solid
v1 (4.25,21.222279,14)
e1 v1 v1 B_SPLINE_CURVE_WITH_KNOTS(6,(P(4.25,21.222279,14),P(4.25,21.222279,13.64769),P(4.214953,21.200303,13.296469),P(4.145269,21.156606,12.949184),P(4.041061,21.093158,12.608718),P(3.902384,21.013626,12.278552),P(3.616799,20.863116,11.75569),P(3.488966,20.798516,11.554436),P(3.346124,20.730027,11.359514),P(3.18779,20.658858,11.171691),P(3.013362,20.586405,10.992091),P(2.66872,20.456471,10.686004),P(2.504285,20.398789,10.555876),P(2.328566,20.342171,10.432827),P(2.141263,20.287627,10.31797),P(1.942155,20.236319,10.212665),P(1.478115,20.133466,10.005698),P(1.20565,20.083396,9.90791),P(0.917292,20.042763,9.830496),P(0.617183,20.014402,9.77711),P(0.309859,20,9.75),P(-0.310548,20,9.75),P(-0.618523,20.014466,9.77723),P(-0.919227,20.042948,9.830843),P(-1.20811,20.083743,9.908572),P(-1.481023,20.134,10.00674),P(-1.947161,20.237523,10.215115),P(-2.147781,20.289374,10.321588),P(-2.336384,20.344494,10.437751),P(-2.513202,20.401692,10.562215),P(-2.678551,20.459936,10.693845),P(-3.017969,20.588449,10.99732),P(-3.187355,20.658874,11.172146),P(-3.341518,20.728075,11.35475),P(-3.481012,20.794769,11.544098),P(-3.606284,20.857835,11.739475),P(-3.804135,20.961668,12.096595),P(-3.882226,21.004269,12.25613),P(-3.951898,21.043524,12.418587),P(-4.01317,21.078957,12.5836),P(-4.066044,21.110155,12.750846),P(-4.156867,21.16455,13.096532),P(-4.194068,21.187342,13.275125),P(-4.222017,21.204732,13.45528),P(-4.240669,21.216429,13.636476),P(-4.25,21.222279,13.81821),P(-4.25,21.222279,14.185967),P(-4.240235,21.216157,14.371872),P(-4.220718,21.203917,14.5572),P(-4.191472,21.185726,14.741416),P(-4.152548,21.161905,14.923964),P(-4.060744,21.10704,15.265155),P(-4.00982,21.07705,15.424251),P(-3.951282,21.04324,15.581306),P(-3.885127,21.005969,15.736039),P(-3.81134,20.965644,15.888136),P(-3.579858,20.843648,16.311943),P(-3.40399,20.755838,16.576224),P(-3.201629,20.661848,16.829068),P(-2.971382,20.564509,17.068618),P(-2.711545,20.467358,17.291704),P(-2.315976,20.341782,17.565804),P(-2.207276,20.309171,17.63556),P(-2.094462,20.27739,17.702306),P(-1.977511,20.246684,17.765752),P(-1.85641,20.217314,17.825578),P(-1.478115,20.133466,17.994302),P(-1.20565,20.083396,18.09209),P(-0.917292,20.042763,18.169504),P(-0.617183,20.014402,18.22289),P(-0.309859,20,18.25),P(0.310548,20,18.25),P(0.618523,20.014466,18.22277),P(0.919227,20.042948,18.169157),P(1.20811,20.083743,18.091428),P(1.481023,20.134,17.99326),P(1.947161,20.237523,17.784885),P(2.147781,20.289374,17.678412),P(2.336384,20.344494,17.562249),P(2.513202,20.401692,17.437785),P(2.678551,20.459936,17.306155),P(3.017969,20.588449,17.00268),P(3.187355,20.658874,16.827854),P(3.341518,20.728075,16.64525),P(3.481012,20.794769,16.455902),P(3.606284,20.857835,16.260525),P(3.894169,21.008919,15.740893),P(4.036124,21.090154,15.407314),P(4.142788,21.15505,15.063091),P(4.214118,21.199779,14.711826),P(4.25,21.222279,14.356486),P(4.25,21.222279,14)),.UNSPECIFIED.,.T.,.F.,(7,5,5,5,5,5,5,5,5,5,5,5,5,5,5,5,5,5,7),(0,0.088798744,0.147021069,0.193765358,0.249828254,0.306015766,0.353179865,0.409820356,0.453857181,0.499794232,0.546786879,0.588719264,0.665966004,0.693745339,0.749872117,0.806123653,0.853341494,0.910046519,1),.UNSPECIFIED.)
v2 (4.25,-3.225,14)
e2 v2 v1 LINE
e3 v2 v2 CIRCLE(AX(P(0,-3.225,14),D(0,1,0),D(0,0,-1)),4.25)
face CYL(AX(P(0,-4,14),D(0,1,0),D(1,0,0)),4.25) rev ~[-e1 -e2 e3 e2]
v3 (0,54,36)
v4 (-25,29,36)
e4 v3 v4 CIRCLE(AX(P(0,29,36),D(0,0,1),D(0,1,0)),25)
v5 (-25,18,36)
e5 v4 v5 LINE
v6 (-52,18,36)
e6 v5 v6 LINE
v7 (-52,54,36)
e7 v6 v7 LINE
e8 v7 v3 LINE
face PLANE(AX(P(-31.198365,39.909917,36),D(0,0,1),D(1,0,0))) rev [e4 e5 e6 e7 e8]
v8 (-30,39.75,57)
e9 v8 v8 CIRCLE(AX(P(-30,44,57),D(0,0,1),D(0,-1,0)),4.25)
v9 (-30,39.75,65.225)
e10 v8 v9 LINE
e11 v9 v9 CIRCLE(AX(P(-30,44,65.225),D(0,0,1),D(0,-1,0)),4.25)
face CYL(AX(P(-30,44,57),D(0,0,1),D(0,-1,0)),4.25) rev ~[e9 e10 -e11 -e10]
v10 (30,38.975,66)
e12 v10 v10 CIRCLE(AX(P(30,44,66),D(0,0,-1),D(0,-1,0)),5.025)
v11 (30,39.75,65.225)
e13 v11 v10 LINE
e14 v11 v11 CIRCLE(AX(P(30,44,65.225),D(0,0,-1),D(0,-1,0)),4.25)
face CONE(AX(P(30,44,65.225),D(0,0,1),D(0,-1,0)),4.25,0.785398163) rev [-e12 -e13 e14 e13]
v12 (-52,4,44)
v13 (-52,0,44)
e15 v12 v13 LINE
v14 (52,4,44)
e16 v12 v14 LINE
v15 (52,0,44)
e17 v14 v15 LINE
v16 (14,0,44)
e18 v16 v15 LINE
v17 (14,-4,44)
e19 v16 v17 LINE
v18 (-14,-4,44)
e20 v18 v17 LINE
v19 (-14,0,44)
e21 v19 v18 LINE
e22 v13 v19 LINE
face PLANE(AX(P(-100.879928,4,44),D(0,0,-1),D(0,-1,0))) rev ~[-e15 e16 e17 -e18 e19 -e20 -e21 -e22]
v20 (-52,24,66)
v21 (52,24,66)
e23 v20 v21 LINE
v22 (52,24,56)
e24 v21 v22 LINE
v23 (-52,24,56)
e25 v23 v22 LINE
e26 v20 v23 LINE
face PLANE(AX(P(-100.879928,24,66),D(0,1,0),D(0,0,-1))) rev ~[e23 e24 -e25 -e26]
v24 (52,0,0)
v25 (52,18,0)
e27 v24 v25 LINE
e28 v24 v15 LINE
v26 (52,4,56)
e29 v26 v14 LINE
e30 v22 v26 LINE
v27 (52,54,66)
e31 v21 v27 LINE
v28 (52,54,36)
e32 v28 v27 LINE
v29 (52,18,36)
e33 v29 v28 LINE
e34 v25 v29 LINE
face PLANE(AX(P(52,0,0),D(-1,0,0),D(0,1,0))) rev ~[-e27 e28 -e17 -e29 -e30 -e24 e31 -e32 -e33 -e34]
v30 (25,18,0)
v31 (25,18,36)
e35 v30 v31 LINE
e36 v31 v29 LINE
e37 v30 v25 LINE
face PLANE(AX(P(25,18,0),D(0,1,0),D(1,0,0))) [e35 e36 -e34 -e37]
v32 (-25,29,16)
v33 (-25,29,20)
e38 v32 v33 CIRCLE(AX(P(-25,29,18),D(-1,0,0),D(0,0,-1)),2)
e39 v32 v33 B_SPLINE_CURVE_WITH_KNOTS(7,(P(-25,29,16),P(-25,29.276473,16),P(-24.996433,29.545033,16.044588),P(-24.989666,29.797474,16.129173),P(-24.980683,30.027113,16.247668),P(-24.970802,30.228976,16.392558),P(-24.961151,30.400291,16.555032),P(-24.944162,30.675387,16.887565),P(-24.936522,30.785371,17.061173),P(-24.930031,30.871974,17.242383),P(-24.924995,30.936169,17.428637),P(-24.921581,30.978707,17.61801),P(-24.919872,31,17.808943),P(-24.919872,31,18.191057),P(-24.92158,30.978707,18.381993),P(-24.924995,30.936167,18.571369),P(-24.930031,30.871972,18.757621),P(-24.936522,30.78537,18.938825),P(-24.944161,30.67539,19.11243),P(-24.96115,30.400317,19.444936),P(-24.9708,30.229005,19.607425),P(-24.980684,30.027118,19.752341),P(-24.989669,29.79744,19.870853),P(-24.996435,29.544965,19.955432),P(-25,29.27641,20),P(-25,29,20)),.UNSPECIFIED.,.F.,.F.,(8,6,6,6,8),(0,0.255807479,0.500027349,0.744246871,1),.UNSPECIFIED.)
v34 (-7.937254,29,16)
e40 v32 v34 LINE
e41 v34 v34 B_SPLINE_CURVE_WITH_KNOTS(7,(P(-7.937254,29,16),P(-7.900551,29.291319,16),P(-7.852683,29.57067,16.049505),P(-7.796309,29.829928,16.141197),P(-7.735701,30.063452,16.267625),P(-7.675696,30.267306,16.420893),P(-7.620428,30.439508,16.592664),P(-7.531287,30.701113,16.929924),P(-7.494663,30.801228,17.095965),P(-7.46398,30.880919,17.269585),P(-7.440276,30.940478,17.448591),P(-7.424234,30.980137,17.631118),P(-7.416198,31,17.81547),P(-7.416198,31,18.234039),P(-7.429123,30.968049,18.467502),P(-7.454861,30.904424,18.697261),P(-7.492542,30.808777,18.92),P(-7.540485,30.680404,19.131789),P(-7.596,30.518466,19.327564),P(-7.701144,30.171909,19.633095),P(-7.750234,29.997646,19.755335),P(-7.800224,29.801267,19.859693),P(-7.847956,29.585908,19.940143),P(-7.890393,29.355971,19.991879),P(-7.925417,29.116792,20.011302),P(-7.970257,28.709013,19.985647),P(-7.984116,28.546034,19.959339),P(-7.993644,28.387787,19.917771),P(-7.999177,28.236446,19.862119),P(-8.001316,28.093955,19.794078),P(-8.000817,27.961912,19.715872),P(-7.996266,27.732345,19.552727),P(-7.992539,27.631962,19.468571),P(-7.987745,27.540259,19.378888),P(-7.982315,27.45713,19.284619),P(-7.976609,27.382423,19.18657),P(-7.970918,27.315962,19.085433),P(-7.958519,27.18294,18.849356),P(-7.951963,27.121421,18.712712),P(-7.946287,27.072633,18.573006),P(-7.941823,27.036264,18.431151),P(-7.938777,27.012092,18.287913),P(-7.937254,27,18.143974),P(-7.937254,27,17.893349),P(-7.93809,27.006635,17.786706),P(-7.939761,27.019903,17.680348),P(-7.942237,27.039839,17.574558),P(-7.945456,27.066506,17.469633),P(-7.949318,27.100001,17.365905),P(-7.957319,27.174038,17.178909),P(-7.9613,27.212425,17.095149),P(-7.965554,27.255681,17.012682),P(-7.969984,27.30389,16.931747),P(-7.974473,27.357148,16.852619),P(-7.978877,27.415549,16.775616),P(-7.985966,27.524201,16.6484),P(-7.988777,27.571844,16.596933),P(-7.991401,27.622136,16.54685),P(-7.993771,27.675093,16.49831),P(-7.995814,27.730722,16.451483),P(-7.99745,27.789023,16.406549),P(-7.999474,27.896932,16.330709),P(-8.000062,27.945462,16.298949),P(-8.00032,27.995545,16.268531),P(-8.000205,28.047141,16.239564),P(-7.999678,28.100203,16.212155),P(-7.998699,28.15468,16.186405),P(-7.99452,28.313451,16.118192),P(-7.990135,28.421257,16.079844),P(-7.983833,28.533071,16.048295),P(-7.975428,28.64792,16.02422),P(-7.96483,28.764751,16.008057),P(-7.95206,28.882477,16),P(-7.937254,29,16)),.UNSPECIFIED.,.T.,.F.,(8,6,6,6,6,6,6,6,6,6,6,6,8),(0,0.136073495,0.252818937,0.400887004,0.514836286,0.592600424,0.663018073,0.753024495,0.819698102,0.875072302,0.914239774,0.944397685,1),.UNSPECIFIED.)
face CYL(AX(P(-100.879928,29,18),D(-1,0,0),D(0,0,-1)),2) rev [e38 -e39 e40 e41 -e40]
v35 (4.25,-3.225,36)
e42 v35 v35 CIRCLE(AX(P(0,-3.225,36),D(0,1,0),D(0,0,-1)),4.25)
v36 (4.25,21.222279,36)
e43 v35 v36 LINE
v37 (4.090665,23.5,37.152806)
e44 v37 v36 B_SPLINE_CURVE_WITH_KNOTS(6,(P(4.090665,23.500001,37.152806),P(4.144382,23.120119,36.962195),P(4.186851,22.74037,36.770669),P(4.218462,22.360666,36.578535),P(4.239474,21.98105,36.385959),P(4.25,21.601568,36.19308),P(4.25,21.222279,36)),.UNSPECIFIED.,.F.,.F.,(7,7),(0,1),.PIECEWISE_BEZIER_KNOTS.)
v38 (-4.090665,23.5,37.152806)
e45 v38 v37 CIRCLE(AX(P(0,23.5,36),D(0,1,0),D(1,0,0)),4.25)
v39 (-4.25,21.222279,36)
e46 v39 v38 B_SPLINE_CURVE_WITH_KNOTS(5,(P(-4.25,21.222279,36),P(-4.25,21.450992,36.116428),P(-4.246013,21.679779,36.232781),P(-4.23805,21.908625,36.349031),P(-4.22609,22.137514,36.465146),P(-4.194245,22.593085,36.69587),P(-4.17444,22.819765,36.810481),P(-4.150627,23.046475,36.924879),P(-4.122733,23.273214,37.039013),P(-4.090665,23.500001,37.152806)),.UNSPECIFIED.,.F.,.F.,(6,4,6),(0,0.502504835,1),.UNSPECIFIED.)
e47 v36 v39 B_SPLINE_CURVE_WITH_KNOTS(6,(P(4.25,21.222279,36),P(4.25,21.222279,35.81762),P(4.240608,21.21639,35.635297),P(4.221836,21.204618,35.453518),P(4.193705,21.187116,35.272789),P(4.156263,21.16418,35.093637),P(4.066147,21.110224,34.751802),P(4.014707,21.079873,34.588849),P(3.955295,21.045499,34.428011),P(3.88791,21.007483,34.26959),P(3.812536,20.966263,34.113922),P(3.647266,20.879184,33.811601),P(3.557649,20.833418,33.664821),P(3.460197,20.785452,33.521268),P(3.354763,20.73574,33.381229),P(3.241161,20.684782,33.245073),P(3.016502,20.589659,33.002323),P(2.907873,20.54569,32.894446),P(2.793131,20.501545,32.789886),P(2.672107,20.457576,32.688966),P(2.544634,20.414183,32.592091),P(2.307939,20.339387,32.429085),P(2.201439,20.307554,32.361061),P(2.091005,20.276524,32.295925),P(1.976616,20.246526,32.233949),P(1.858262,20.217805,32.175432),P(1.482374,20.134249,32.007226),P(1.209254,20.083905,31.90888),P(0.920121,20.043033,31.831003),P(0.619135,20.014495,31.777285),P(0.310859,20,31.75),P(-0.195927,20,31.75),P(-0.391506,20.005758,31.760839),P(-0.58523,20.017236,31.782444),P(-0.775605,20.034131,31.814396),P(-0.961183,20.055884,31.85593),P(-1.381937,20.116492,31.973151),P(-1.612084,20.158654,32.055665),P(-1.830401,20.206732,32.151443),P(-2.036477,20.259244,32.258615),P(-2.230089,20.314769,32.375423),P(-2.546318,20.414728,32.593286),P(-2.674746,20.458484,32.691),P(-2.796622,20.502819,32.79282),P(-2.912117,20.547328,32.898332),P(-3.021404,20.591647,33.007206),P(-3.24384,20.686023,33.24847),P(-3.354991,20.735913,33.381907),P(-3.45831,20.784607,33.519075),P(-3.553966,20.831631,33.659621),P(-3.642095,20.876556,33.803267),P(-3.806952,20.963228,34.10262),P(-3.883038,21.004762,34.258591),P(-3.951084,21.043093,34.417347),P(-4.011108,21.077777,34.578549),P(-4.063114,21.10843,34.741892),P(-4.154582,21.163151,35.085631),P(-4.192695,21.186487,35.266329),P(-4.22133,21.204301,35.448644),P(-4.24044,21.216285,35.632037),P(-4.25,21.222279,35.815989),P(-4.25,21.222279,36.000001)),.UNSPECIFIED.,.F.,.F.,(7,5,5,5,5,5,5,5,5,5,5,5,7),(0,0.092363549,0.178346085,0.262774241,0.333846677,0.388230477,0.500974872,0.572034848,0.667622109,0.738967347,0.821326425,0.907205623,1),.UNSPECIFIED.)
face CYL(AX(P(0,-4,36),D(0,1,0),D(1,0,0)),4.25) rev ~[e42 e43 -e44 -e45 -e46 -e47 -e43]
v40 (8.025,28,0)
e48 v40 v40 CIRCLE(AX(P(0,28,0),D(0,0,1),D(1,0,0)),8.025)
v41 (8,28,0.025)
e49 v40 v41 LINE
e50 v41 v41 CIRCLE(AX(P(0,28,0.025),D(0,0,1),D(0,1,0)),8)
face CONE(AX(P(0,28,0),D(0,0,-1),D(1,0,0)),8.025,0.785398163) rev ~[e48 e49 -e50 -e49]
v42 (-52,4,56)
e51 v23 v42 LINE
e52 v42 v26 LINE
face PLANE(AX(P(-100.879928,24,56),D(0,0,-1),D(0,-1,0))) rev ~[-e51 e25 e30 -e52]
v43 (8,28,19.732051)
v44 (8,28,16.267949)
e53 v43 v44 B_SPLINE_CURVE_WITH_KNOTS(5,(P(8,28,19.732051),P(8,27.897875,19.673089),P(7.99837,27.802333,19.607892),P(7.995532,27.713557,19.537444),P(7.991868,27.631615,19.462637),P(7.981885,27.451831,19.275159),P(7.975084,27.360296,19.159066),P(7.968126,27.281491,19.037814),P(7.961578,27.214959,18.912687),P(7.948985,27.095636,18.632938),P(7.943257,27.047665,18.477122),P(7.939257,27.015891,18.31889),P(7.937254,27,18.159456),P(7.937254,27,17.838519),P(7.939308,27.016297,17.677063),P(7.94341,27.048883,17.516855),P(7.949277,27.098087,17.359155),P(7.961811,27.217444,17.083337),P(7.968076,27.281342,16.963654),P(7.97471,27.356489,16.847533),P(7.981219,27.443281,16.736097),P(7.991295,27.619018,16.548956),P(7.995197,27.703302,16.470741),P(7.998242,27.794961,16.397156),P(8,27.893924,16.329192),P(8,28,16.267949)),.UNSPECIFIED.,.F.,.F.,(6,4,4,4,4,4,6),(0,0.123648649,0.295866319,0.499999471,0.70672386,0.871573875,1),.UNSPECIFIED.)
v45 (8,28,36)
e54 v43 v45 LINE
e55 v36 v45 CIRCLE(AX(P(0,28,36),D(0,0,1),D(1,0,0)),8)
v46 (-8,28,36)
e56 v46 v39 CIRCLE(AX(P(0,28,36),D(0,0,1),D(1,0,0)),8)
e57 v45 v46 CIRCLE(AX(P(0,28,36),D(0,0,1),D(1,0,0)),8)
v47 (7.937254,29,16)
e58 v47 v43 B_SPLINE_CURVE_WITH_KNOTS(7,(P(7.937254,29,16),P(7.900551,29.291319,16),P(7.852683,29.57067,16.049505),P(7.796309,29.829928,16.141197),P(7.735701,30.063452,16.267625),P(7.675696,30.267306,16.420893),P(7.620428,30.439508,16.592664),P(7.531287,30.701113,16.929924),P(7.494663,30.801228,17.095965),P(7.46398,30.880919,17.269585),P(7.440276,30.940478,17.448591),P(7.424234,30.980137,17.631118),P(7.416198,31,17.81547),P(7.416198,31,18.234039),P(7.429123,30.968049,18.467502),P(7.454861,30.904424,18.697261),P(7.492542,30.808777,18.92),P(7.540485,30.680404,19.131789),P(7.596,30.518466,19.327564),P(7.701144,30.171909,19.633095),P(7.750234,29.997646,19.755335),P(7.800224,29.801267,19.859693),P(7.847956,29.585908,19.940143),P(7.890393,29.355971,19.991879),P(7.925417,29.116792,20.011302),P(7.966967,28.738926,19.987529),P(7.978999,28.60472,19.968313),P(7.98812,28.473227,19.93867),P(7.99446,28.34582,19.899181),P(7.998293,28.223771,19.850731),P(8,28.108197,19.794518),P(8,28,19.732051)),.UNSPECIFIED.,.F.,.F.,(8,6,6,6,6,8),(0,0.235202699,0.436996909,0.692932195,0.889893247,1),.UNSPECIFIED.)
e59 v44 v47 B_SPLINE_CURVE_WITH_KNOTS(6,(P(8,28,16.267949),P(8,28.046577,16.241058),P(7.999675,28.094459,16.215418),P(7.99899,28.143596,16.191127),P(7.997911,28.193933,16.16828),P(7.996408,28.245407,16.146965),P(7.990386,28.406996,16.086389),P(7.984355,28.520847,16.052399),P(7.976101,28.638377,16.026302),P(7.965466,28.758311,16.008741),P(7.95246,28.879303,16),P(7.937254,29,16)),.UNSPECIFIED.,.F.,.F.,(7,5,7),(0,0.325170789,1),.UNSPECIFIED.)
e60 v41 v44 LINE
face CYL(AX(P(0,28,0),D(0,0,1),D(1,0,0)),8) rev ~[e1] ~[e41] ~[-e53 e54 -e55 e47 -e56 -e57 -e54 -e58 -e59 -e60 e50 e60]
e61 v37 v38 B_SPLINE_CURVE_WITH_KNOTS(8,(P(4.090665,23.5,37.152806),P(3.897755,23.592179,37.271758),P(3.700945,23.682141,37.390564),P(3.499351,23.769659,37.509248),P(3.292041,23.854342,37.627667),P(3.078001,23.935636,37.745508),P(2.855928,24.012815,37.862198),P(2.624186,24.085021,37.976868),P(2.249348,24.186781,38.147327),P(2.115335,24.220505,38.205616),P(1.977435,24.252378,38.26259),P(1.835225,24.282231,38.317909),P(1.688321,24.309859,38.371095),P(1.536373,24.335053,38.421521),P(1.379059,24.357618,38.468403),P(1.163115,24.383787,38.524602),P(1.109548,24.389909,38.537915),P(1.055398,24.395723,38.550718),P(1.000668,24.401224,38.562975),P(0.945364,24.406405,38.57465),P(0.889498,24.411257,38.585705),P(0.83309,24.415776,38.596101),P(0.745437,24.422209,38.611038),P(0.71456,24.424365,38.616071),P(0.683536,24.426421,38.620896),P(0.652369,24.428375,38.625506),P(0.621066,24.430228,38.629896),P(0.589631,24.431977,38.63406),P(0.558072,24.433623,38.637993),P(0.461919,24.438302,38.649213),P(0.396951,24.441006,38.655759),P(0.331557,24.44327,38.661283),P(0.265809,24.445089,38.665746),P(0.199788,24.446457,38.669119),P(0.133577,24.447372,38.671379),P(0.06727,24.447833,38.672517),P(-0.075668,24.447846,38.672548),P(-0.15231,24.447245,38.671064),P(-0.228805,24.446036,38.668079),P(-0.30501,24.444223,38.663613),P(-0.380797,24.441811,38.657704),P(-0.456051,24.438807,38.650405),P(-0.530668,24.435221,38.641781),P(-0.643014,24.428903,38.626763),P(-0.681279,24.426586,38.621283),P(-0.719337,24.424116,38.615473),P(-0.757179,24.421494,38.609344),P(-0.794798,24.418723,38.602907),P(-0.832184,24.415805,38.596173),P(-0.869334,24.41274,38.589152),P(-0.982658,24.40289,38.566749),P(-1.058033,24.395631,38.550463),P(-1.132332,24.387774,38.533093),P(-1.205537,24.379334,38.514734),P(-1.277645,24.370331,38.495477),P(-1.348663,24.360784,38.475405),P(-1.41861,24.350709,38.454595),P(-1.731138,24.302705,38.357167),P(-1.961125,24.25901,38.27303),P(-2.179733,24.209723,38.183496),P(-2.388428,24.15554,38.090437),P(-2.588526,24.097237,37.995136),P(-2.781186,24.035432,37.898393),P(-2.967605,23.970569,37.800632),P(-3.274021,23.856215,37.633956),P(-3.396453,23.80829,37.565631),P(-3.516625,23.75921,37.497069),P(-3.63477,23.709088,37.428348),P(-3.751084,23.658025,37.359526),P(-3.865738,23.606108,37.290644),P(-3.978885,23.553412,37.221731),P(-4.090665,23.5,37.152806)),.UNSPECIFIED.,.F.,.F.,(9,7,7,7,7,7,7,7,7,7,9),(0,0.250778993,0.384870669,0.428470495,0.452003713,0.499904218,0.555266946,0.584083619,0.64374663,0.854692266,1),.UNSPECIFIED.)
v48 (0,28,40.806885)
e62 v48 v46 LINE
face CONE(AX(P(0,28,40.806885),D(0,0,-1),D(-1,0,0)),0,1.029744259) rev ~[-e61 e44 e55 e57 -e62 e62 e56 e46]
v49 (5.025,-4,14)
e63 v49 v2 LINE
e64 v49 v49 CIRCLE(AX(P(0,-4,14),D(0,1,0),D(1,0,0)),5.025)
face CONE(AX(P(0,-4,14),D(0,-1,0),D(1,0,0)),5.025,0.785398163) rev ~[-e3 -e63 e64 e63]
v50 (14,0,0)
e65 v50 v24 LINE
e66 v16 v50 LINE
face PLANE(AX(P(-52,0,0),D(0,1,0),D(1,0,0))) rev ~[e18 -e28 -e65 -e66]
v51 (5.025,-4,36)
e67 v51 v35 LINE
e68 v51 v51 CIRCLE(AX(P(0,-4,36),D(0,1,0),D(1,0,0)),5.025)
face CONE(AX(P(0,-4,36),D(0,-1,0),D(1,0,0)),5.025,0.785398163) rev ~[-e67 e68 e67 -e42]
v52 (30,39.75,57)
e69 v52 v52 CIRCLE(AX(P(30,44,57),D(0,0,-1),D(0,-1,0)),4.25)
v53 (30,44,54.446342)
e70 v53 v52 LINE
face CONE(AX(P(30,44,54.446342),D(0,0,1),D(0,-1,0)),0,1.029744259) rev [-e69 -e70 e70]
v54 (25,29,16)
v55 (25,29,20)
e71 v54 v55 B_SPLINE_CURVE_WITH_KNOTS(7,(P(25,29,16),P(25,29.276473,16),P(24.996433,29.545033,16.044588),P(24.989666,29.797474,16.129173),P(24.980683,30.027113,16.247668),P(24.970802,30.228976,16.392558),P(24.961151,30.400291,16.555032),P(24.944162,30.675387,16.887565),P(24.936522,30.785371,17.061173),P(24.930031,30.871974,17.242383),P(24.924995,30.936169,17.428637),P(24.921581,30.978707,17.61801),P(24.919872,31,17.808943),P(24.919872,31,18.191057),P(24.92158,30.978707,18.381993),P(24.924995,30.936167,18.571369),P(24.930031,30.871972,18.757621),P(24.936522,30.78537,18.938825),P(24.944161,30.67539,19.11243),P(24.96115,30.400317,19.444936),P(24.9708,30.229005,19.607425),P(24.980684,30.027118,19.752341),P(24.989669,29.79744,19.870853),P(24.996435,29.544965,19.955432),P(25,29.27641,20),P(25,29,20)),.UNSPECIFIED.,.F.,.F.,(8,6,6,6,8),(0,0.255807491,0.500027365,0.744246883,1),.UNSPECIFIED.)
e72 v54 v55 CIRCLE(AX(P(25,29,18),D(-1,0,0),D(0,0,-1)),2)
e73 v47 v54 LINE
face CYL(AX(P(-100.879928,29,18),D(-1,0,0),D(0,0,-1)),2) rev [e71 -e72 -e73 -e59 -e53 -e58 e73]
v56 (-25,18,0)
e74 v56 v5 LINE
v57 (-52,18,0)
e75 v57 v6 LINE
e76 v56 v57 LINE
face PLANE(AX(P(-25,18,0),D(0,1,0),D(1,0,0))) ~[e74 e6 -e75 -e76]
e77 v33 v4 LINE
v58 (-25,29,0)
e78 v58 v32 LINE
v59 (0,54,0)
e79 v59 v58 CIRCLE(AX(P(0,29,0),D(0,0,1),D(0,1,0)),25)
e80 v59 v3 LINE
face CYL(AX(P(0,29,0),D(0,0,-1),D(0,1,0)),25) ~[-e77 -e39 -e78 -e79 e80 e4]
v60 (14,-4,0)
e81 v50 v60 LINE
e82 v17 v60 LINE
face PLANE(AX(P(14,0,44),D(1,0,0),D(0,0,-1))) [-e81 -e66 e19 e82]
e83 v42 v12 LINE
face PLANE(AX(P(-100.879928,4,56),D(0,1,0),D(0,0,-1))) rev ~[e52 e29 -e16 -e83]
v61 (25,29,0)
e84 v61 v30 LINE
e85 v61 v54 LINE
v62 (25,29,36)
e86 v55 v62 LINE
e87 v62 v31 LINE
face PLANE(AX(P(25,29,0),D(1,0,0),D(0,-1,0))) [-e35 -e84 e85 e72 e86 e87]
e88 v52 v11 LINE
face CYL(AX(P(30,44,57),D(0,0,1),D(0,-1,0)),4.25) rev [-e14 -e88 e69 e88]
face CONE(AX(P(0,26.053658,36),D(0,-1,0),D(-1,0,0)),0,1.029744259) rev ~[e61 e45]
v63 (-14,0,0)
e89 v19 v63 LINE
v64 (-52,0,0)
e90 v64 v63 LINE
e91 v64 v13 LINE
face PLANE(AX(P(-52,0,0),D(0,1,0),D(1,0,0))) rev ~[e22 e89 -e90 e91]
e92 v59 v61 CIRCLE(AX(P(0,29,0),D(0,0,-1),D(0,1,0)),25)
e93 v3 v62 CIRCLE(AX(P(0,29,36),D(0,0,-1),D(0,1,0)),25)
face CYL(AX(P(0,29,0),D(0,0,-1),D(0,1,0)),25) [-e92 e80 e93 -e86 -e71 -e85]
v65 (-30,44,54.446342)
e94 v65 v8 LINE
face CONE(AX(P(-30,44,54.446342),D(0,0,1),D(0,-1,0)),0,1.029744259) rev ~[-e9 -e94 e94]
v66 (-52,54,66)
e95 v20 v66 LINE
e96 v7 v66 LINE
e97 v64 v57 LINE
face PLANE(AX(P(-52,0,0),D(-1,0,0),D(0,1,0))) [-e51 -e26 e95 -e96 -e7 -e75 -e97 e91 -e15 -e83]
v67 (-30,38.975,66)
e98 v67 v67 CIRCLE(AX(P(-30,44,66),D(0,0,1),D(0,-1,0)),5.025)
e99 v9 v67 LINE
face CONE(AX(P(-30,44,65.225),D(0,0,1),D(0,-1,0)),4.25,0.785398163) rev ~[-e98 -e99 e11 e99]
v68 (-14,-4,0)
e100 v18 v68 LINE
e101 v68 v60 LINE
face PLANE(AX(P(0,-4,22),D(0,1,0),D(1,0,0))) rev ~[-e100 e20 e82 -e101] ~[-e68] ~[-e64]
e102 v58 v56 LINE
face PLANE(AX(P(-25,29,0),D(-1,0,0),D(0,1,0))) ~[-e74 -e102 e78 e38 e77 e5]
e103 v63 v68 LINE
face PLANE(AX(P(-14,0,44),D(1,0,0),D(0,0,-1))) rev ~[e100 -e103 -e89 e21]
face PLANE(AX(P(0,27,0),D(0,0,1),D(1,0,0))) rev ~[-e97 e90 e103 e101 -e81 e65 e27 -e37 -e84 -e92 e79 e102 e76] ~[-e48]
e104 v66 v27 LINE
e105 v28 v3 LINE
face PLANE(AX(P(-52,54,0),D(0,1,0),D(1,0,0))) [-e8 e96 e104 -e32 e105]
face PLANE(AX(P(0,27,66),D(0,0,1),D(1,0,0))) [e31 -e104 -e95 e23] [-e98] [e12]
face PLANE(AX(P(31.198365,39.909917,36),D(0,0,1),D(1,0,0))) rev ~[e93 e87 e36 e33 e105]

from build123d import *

# Parameters (mm, degrees)
CROQUIS2_W                                = 104
CROQUIS2_H                                = 54
SALIENTE_EXTRUIR1_DEPTH                   = 66
CORTAR_EXTRUIR1_DEPTH                     = 36
TALADROS_DE_ESPIGA_DE_16_0MM1_D           = 16
TALADROS_DE_ESPIGA_DE_16_0MM1_DEPTH       = 36
TALADROS_DE_ESPIGA_DE_16_0MM1_CSINK_D     = 16.05
TALADROS_DE_ESPIGA_DE_16_0MM1_CSINK_ANGLE = 90
TALADROS_DE_ESPIGA_DE_16_0MM1_TIP         = 4.806884952
CROQUIS7_W                                = 28
CROQUIS7_H                                = 44
SALIENTE_EXTRUIR2_DEPTH                   = 4
CORTAR_EXTRUIR3_DEPTH                     = 100.879927913
CORTAR_EXTRUIR3_DEPTH_BACK                = 100.879927913
CORTAR_EXTRUIR4_DEPTH                     = 100.879927913
CORTAR_EXTRUIR4_DEPTH_BACK                = 100.879927913
CROQUIS9_R                                = 2
TALADRO_ROSCADO_M102_D                    = 8.5
TALADRO_ROSCADO_M102_DEPTH                = 27.5
TALADRO_ROSCADO_M102_CSINK_D              = 10.05
TALADRO_ROSCADO_M102_CSINK_ANGLE          = 90
TALADRO_ROSCADO_M102_TIP                  = 2.553657631


with BuildPart() as part:
    # Croquis2 → Saliente-Extruir1 (new body)
    with BuildSketch(Plane.XY):
        with Locations((0, 27)):
            Rectangle(CROQUIS2_W, CROQUIS2_H)
    extrude(amount=SALIENTE_EXTRUIR1_DEPTH)

    # Croquis3 → Cortar-Extruir1 (cut)
    with BuildSketch(Plane.XY):
        with BuildLine():
            Line((25, 29), (25, 18))
            Line((25, 18), (52, 18))
            Line((52, 18), (52, 54))
            Line((52, 54), (0, 54))
            ThreePointArc((0, 54), (17.67766953, 46.67766953), (25, 29))
        make_face()
    cortar_extruir1 = extrude(amount=CORTAR_EXTRUIR1_DEPTH, mode=Mode.SUBTRACT)

    # Simetría1: Cortar-Extruir1 across plane
    add(cortar_extruir1.mirror(Plane(origin=(0, 0, 0), x_dir=(0, 0, 1), z_dir=(1, 0, 0))), mode=Mode.SUBTRACT)

    # Taladros de espiga de Ø16.0mm1
    with Locations(Plane(origin=(0, 0, 0), x_dir=(-1, 0, 0), z_dir=(0, 0, -1))):
        with Locations((0, 28)):
            CounterSinkHole(TALADROS_DE_ESPIGA_DE_16_0MM1_D / 2, TALADROS_DE_ESPIGA_DE_16_0MM1_CSINK_D / 2, depth=TALADROS_DE_ESPIGA_DE_16_0MM1_DEPTH, counter_sink_angle=TALADROS_DE_ESPIGA_DE_16_0MM1_CSINK_ANGLE)
            with Locations((0, 0, -(TALADROS_DE_ESPIGA_DE_16_0MM1_DEPTH + TALADROS_DE_ESPIGA_DE_16_0MM1_TIP / 2))):  # 118° drill point
                Cone(0, TALADROS_DE_ESPIGA_DE_16_0MM1_D / 2, TALADROS_DE_ESPIGA_DE_16_0MM1_TIP, mode=Mode.SUBTRACT)

    # Croquis7 → Saliente-Extruir2 (add)
    with BuildSketch(Plane(origin=(0, 0, 0), x_dir=(1, 0, 0), z_dir=(0, 1, 0))):
        with Locations((0, -22)):
            Rectangle(CROQUIS7_W, CROQUIS7_H)
    extrude(amount=-SALIENTE_EXTRUIR2_DEPTH)

    # Croquis8 → Cortar-Extruir3 (cut, two sides: drawn at the far end of the back side and taken through both)
    with BuildSketch(Plane(origin=(0, 0, 0), x_dir=(0, 0, -1), z_dir=(1, 0, 0)).offset(-CORTAR_EXTRUIR3_DEPTH_BACK)):
        Polygon((-44, 0), (-56.494918643, 0), (-66, 0), (-66, 24), (-56, 24), (-56, 4), (-44, 4), align=None)
    extrude(amount=CORTAR_EXTRUIR3_DEPTH + CORTAR_EXTRUIR3_DEPTH_BACK, mode=Mode.SUBTRACT)

    # Croquis9 → Cortar-Extruir4 (cut, two sides: drawn at the far end of the back side and taken through both)
    with BuildSketch(Plane(origin=(0, 0, 0), x_dir=(0, 0, -1), z_dir=(1, 0, 0)).offset(-CORTAR_EXTRUIR4_DEPTH_BACK)):
        with Locations((-18, 29)):
            Circle(CROQUIS9_R)
    extrude(amount=CORTAR_EXTRUIR4_DEPTH + CORTAR_EXTRUIR4_DEPTH_BACK, mode=Mode.SUBTRACT)

    # Croquis13 → Taladro roscado M101 (revolve, cut)
    with BuildSketch(Plane(origin=(30, 44, 66), x_dir=(0, -1, 0), z_dir=(1, 0, 0))):
        Polygon((0, 0), (0, 11.553657631), (4.25, 9), (4.25, 0.775), (5.025, 0), align=None)
    taladro_roscado_m101 = revolve(axis=Axis((30, 44, 72.35), (0, 0, -1)), mode=Mode.SUBTRACT)

    # Simetría2: Taladro roscado M101 across plane
    add(taladro_roscado_m101.mirror(Plane.ZY), mode=Mode.SUBTRACT)

    # Taladro roscado M102
    with Locations(Plane(origin=(0, -4, 0), x_dir=(-1, 0, 0), z_dir=(0, -1, 0))):
        with Locations((0, -36), (0, -14)):
            CounterSinkHole(TALADRO_ROSCADO_M102_D / 2, TALADRO_ROSCADO_M102_CSINK_D / 2, depth=TALADRO_ROSCADO_M102_DEPTH, counter_sink_angle=TALADRO_ROSCADO_M102_CSINK_ANGLE)
            with Locations((0, 0, -(TALADRO_ROSCADO_M102_DEPTH + TALADRO_ROSCADO_M102_TIP / 2))):  # 118° drill point
                Cone(0, TALADRO_ROSCADO_M102_D / 2, TALADRO_ROSCADO_M102_TIP, mode=Mode.SUBTRACT)


solid = part.part
